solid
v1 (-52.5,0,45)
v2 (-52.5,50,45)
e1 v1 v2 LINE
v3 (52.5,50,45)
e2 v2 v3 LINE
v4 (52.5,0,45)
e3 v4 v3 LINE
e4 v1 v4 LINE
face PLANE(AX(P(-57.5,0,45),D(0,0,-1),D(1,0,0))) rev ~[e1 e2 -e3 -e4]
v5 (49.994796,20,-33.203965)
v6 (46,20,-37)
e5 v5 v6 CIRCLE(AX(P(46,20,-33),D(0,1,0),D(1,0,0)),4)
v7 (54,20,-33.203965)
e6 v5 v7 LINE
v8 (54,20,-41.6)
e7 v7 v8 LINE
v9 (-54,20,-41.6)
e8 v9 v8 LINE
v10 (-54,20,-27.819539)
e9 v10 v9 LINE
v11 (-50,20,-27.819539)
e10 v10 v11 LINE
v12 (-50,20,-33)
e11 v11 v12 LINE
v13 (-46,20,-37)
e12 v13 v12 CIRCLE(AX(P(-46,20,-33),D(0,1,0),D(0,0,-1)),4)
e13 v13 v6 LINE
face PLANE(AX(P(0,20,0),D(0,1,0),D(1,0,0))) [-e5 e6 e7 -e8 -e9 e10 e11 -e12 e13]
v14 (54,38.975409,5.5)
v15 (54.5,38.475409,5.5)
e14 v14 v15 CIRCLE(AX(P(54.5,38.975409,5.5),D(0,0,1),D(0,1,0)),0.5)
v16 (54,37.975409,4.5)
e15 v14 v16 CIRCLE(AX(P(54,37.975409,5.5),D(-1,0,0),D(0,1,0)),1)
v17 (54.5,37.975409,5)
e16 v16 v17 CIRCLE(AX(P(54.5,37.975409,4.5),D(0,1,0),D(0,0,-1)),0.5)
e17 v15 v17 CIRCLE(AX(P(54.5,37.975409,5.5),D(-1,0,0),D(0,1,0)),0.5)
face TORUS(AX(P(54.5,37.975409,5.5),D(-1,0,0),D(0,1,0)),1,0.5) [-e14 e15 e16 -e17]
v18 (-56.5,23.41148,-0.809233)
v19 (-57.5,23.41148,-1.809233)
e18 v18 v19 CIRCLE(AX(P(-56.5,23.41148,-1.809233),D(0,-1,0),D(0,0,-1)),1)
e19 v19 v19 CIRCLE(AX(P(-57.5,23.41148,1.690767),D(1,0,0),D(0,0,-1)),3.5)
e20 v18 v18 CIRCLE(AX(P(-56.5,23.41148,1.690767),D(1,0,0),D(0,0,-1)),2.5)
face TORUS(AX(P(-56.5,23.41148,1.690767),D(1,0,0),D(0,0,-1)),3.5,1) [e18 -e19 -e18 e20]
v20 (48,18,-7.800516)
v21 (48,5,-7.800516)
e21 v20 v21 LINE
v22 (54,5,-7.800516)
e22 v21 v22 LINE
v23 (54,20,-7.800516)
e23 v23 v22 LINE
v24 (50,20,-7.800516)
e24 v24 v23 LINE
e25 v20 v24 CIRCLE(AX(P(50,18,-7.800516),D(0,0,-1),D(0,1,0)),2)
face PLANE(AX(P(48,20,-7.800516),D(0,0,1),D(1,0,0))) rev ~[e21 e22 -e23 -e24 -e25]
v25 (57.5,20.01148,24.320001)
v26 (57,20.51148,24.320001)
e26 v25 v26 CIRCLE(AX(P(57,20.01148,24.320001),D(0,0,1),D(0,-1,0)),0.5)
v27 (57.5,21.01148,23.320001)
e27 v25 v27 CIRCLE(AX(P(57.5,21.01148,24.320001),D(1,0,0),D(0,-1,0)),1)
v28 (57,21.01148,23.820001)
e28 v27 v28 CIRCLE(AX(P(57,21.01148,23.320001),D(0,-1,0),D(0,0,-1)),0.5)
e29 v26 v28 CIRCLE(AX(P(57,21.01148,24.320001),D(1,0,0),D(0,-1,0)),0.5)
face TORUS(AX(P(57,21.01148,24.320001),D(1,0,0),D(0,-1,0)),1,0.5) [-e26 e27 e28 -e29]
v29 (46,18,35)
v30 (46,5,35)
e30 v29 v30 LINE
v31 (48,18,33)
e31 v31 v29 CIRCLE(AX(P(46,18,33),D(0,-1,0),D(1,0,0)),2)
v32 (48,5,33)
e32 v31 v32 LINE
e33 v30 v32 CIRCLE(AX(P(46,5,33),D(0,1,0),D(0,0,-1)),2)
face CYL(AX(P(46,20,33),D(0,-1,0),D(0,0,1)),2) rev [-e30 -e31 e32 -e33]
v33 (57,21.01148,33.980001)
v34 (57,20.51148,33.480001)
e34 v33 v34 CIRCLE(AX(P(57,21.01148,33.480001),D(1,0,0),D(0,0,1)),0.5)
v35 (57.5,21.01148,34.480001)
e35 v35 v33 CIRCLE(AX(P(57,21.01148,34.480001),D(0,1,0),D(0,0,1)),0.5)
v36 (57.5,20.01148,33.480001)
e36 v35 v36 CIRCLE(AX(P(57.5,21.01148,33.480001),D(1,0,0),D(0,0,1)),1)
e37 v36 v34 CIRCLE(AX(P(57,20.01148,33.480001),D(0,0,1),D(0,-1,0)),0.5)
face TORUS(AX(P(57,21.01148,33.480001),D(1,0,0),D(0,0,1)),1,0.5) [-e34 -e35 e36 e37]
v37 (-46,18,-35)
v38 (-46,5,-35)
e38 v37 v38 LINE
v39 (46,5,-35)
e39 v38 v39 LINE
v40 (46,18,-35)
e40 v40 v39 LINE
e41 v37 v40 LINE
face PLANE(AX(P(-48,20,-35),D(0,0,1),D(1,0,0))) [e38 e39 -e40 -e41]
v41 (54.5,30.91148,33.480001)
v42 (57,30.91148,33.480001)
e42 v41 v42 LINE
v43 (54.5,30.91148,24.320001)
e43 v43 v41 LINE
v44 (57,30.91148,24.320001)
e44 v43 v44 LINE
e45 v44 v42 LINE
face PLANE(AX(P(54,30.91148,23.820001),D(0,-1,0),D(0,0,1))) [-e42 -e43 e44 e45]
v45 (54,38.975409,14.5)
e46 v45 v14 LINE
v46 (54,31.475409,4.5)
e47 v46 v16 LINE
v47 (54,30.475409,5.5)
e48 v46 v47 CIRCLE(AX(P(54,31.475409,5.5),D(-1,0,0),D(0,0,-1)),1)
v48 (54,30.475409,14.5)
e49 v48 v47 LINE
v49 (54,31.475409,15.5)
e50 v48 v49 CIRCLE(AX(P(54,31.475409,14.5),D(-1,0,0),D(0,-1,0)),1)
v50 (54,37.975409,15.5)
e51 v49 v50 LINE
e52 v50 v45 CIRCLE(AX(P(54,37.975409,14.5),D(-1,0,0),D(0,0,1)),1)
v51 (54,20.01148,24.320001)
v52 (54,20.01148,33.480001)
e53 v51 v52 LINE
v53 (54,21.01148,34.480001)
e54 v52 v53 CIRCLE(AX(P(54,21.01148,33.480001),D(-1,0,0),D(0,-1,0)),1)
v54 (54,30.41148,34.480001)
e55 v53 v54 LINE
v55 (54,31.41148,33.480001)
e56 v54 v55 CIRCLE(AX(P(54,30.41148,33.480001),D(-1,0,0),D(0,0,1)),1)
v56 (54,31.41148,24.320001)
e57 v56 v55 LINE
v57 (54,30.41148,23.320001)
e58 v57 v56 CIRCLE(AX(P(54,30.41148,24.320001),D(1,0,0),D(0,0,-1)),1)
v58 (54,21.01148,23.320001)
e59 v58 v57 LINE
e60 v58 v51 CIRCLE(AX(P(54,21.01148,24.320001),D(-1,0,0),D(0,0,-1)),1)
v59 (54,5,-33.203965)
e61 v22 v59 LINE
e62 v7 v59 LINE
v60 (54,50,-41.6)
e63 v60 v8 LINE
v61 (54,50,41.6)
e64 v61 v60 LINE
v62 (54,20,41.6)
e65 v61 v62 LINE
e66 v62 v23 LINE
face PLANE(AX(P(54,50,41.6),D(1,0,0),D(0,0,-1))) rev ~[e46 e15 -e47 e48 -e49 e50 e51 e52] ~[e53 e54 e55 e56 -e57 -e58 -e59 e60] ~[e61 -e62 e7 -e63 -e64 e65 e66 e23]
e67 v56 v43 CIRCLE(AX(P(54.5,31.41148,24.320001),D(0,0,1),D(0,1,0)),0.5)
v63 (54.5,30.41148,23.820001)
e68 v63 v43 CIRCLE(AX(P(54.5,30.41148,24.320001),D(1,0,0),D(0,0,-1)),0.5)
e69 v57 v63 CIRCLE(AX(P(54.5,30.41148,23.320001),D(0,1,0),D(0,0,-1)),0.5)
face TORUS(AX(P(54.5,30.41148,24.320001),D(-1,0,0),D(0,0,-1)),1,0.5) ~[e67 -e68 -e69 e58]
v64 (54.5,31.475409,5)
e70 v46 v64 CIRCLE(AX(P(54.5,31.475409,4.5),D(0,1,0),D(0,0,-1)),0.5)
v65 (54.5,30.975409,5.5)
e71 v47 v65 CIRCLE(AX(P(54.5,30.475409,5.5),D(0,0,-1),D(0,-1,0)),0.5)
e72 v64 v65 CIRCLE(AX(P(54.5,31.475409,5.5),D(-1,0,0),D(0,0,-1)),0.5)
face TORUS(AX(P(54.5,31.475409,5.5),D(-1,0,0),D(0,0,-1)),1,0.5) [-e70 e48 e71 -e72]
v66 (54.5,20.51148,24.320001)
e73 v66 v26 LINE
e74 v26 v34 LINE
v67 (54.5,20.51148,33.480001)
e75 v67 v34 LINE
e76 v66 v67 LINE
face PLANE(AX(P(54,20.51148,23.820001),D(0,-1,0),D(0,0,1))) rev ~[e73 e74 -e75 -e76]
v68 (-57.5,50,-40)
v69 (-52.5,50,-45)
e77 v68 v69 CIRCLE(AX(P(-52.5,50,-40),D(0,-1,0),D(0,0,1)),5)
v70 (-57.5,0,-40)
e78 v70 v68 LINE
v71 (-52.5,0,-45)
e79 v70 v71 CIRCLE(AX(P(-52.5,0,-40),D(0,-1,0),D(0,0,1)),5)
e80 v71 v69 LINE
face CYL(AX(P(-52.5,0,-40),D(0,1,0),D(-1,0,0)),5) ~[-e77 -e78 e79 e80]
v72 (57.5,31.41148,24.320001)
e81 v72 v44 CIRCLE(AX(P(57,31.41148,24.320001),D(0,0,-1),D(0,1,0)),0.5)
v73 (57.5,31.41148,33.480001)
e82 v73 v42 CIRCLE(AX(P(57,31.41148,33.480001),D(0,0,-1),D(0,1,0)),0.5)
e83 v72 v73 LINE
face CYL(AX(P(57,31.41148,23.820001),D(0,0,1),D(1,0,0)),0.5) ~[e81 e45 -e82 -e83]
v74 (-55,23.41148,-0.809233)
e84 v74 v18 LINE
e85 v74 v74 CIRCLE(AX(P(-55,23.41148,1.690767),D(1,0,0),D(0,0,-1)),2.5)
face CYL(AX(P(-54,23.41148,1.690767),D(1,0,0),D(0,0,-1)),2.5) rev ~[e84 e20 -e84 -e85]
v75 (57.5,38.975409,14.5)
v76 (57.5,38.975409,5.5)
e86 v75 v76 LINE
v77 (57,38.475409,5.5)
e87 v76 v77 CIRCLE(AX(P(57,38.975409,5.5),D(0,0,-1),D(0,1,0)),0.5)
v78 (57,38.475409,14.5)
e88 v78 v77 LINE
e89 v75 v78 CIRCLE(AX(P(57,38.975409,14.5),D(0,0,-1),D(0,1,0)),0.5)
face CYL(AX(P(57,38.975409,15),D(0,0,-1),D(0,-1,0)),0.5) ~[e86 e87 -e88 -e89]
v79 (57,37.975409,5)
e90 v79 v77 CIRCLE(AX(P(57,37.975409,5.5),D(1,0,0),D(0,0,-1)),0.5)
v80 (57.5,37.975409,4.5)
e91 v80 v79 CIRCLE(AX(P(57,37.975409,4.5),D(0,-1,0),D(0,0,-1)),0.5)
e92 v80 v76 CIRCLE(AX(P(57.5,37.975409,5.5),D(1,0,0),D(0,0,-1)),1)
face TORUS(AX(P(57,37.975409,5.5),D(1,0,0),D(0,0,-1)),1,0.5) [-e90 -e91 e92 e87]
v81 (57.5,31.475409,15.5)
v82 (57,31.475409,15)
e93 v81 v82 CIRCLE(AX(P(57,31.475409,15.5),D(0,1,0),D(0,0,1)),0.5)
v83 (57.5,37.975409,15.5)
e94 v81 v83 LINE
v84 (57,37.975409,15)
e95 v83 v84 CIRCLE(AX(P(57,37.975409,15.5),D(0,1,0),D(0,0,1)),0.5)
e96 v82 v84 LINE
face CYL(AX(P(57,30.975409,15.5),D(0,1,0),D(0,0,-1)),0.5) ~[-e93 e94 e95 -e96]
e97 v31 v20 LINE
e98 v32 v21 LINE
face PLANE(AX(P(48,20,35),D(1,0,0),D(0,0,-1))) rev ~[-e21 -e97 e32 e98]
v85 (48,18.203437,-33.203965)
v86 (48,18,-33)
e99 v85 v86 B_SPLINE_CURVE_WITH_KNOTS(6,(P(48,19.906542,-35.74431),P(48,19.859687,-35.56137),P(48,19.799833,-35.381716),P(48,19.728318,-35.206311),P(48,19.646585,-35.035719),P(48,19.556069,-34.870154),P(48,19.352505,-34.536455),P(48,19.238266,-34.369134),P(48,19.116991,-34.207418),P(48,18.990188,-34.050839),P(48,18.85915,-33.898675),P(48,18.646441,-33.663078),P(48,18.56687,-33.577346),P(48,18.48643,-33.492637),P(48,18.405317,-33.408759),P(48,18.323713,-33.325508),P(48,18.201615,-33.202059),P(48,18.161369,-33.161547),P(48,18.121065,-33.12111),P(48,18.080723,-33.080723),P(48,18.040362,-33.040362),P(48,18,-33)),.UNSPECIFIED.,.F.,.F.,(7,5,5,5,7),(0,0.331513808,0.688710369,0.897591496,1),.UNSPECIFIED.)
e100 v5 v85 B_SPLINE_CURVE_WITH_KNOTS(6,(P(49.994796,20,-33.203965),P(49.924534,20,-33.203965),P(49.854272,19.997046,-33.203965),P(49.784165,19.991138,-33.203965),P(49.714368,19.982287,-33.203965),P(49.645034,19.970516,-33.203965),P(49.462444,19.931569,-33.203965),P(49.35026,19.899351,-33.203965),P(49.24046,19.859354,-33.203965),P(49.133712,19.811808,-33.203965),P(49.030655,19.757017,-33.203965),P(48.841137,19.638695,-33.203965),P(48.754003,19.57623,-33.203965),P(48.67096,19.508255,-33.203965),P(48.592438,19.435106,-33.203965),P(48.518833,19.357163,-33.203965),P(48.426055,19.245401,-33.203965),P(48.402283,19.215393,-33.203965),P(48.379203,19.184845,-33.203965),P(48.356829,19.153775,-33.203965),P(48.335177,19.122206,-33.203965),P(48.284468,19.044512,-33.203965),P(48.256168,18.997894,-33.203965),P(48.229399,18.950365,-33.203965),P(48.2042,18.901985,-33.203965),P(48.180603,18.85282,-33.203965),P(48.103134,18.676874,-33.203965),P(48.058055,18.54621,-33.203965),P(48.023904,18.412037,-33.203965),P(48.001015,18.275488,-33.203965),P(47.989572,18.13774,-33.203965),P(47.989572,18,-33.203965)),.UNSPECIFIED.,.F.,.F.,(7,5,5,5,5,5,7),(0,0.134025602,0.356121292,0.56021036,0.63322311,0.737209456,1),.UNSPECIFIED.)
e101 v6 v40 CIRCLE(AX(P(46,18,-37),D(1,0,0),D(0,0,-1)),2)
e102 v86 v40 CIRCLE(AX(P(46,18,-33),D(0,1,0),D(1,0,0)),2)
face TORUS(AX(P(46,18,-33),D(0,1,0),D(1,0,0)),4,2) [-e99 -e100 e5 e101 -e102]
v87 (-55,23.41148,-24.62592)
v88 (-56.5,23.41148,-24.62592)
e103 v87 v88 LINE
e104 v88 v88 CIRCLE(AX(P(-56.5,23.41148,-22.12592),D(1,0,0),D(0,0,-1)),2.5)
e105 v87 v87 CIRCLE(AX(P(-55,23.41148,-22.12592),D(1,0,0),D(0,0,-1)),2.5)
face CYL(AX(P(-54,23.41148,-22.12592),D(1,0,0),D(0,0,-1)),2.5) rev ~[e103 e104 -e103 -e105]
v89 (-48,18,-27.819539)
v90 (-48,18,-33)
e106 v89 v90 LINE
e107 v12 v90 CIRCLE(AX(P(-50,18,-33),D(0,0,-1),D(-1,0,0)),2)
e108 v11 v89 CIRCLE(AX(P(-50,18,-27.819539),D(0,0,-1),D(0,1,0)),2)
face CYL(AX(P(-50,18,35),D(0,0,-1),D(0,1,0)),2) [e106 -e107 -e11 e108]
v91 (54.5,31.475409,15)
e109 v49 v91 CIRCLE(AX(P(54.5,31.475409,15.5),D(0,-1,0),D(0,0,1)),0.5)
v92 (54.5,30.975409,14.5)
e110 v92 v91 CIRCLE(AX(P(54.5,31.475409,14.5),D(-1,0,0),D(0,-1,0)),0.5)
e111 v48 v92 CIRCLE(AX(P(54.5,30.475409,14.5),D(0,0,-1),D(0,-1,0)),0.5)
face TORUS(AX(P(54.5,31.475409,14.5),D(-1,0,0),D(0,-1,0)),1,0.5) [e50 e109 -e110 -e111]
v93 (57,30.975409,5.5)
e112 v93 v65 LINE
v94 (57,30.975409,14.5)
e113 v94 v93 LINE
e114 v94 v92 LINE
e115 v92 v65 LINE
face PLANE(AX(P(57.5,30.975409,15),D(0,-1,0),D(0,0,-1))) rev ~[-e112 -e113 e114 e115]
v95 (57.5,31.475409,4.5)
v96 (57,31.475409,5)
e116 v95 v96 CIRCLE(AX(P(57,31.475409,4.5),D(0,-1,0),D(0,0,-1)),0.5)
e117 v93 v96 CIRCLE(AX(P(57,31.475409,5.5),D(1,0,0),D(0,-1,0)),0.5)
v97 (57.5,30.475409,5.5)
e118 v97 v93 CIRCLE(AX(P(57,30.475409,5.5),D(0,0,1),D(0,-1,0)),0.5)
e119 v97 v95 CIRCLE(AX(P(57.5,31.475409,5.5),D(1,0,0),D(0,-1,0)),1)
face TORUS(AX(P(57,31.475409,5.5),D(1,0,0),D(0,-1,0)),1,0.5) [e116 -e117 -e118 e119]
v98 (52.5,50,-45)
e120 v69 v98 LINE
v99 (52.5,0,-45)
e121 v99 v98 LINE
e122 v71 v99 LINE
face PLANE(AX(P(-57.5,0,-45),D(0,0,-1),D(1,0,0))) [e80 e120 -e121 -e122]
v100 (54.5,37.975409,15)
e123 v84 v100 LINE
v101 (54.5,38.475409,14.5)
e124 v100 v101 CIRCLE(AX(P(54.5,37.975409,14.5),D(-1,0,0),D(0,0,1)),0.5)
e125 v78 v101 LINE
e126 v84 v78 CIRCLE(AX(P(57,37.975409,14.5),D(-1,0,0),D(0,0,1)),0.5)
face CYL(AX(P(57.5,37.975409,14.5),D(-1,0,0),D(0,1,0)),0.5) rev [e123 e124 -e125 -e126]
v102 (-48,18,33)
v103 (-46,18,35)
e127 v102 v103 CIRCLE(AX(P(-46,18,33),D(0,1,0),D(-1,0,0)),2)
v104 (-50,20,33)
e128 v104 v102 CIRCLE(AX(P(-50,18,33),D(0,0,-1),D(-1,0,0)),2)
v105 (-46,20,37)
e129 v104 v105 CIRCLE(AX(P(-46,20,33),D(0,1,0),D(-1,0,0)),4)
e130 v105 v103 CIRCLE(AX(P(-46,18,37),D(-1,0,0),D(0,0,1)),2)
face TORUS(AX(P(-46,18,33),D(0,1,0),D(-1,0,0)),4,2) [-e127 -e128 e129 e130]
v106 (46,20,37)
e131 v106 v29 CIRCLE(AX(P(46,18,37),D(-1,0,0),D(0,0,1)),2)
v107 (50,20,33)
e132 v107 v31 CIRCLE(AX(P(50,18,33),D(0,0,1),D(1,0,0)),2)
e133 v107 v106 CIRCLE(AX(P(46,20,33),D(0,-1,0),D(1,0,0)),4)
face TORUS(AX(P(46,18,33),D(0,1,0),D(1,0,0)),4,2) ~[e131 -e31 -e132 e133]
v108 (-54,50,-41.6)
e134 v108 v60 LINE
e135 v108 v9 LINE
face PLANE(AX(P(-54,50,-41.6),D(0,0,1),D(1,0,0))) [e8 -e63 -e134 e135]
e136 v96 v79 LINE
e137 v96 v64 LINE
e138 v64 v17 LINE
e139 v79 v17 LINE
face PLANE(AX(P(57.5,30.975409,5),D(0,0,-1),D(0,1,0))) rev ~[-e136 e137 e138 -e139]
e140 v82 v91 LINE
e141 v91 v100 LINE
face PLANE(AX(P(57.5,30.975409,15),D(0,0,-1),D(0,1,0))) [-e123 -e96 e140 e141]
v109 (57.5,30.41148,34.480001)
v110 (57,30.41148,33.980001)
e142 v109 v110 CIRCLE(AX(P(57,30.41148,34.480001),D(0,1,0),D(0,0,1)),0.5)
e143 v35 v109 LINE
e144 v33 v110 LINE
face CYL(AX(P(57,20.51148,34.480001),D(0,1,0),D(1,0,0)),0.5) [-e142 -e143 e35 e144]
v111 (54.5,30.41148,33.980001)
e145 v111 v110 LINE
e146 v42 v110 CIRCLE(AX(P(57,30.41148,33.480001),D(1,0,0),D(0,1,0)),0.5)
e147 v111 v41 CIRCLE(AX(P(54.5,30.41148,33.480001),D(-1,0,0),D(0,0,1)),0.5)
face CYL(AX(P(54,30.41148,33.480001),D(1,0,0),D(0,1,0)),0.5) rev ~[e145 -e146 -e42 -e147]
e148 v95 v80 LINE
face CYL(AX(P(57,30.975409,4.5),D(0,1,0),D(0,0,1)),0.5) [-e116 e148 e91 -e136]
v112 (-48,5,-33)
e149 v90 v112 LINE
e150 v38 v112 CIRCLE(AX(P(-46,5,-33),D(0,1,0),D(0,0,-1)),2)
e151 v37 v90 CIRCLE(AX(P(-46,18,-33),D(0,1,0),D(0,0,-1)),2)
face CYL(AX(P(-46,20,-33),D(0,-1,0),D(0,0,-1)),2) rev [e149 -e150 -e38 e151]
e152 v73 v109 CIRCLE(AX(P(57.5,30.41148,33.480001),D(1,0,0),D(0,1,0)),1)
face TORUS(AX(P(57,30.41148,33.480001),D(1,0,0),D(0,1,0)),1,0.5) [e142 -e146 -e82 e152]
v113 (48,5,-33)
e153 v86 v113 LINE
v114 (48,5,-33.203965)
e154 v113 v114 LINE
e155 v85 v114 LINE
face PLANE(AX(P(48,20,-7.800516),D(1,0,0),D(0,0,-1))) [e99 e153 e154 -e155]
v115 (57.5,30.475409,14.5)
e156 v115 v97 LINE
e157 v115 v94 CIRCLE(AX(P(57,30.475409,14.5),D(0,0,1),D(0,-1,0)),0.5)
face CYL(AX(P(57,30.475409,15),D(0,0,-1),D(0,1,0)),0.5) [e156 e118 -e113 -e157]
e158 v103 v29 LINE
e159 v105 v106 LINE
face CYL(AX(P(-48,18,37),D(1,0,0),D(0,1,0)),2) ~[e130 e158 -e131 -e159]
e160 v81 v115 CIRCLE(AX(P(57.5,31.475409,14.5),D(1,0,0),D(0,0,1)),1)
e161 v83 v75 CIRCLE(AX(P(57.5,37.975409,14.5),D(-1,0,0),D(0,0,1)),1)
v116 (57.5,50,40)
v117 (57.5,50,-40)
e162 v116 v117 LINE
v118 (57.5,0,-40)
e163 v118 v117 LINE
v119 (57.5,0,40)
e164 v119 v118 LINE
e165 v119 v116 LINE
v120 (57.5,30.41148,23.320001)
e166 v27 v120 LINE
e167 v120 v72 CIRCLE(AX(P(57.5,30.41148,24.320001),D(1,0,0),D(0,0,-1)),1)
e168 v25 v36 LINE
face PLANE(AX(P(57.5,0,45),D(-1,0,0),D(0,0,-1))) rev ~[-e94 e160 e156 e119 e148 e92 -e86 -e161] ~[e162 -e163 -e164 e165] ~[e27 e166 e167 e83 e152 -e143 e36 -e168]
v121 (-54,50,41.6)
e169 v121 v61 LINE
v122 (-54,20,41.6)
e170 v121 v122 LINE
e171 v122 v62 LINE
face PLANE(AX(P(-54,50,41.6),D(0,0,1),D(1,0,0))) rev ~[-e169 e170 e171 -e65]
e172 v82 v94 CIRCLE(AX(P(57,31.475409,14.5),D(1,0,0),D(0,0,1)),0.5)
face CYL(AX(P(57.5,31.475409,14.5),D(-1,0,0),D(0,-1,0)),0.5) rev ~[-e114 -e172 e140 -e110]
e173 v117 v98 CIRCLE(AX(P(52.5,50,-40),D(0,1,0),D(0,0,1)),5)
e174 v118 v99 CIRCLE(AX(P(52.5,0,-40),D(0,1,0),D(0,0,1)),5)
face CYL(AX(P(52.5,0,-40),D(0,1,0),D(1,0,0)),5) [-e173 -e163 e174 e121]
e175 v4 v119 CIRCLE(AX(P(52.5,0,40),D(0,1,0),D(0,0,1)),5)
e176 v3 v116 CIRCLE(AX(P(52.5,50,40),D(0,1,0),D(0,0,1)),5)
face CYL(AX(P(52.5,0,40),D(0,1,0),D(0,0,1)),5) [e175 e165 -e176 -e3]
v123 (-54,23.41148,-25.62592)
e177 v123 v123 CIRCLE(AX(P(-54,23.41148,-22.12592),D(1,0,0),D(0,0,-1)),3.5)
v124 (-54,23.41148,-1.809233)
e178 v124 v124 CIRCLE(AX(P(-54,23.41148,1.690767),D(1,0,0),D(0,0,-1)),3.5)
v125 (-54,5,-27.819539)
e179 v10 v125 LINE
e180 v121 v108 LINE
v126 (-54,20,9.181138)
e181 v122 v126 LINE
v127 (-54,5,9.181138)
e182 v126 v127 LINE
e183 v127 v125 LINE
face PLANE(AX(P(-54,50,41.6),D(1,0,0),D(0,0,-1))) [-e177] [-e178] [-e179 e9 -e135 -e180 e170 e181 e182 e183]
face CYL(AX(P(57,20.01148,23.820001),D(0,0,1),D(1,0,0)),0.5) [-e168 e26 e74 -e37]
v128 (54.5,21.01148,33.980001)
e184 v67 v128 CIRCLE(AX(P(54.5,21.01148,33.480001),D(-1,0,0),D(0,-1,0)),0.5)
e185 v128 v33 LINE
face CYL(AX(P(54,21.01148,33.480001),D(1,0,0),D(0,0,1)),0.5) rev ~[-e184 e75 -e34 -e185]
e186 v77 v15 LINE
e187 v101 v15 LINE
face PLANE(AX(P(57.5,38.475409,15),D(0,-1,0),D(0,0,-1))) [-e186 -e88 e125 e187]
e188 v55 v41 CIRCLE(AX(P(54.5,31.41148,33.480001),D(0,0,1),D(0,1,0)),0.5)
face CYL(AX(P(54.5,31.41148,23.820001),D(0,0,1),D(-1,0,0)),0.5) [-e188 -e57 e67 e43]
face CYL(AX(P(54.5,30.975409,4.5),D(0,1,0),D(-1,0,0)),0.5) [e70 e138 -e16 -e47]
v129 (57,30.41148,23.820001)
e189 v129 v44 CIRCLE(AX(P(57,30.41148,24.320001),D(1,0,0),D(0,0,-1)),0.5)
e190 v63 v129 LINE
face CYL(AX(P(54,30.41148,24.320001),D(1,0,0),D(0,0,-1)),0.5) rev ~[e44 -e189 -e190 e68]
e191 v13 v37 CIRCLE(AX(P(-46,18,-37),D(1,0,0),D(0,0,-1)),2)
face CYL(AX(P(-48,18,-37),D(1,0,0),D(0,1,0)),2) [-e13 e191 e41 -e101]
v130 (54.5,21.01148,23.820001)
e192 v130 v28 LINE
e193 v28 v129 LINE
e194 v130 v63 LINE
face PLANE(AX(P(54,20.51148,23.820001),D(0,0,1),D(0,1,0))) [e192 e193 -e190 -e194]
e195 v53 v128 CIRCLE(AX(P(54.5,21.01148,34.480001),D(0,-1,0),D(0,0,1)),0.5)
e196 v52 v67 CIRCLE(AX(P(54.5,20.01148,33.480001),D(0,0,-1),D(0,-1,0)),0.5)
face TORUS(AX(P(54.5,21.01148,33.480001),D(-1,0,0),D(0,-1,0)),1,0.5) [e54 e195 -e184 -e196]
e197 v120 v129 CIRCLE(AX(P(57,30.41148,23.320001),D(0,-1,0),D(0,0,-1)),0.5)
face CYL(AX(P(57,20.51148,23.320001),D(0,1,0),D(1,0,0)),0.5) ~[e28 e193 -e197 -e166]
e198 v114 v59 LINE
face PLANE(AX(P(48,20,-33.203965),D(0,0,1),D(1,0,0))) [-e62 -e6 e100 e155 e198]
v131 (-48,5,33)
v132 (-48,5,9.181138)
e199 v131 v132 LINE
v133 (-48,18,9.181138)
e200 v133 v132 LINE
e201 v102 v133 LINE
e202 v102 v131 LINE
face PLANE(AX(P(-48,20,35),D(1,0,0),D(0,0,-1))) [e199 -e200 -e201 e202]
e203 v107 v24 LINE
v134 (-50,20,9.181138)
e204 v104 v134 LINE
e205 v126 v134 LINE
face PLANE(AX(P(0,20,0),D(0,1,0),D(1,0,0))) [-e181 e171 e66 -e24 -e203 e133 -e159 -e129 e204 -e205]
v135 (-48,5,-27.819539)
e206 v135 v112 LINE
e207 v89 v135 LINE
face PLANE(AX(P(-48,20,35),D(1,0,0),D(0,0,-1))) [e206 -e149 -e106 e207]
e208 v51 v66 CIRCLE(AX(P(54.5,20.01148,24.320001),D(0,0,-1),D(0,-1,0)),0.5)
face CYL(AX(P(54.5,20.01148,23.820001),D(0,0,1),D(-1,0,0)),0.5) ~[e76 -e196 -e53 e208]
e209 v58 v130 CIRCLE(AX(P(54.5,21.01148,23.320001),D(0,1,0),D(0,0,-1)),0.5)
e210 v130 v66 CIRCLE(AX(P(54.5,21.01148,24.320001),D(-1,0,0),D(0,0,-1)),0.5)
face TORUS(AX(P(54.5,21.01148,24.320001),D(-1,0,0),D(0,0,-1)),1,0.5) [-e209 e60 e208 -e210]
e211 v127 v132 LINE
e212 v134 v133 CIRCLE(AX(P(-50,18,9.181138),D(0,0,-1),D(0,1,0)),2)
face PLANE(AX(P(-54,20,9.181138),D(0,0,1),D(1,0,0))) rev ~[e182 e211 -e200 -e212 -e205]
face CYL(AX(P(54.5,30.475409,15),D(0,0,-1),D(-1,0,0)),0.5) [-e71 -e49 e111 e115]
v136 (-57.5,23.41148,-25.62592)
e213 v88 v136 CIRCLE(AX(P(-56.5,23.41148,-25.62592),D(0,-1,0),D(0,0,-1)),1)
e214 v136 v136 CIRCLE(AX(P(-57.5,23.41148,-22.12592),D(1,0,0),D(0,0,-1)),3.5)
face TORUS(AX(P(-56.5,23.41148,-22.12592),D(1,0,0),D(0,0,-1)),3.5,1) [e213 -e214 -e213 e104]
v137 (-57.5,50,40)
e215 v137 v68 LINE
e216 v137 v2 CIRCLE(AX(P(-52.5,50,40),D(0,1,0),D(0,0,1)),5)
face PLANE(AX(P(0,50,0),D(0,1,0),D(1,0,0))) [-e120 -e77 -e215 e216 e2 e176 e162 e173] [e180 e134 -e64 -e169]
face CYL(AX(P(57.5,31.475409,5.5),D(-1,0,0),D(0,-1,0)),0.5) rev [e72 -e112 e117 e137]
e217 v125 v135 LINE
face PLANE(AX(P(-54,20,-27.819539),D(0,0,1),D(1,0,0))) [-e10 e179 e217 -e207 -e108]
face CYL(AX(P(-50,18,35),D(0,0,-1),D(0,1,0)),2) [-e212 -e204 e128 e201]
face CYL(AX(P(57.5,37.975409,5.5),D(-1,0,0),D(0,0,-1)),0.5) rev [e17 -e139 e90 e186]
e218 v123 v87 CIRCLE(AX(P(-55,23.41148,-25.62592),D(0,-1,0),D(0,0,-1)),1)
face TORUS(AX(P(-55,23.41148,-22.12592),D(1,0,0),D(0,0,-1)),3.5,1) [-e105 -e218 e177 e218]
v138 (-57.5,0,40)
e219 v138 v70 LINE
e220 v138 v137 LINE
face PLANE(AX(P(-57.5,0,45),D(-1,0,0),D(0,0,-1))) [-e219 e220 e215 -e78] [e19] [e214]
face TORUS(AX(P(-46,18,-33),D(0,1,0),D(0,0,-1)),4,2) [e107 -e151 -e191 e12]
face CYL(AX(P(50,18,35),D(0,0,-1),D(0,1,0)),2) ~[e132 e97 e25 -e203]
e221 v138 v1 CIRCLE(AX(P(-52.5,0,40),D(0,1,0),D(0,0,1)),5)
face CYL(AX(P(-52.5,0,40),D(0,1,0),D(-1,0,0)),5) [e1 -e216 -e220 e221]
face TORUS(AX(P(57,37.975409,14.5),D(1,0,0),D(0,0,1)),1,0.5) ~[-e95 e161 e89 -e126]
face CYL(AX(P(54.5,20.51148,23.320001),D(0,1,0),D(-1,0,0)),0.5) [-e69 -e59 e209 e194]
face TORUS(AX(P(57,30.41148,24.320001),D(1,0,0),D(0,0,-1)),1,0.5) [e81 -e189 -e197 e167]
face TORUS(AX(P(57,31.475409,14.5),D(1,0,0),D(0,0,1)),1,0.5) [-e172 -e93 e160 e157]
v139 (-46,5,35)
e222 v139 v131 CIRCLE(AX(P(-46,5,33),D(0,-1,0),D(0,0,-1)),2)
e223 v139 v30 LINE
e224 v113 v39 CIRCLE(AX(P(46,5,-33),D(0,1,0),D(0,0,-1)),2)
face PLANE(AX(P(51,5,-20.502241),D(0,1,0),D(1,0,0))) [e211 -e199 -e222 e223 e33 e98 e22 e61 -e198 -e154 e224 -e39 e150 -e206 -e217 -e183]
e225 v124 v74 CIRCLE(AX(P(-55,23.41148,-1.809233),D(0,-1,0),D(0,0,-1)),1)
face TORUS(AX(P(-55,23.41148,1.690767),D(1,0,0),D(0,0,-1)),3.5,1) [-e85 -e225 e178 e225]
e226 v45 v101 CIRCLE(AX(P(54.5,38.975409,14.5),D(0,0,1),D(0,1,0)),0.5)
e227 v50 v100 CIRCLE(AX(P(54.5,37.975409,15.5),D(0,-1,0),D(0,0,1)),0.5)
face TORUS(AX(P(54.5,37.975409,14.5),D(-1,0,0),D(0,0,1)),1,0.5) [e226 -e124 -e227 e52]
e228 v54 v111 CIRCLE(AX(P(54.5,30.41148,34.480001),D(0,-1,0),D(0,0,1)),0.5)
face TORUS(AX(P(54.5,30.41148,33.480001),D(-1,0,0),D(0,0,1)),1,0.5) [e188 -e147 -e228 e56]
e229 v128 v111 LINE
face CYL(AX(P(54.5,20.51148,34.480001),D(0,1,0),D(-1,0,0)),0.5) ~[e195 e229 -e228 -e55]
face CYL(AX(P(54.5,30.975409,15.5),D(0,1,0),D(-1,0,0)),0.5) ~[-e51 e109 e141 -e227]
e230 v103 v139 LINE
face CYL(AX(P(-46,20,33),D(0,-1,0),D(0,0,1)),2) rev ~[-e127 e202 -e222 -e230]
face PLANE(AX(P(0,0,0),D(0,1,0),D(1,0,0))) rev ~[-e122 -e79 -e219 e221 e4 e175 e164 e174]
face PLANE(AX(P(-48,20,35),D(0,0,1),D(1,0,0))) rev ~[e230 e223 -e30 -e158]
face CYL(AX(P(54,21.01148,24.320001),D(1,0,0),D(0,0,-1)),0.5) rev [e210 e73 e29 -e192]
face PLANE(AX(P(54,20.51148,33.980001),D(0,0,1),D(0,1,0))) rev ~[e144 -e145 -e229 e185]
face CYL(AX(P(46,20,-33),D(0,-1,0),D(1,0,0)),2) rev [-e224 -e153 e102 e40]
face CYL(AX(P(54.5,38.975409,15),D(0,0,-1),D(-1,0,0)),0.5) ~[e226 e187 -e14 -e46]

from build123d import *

# Parameters (mm, degrees)
SKETCH2_W           = 115
SKETCH2_H           = 90
BOSS_EXTRUDE1_DEPTH = 50
FILLET1_R           = 5
SKETCH3_W           = 108
SKETCH3_H           = 83.2
CUT_EXTRUDE1_DEPTH  = 30
SKETCH4_W           = 96
SKETCH4_H           = 70
CUT_EXTRUDE2_DEPTH  = 15
FILLET2_R           = 2
SKETCH5_W           = 6
SKETCH5_H           = 37.000676584
CUT_EXTRUDE3_DEPTH  = 15
SKETCH7_W           = 6
SKETCH7_H           = 25.403449595
CUT_EXTRUDE5_DEPTH  = 15
SKETCH8_R           = 2.5
CUT_EXTRUDE6_DEPTH  = 10
FILLET3_R           = 1
SKETCH9_W           = 10.16
SKETCH9_H           = 10.4
CUT_EXTRUDE7_DEPTH  = 10
FILLET9_R           = 0.5
SKETCH10_W          = 10
SKETCH10_H          = 7.5
CUT_EXTRUDE8_DEPTH  = 10
FILLET10_R          = 0.5


with BuildPart() as part:
    # Sketch2 → Boss-Extrude1 (new body)
    with BuildSketch(Plane(origin=(0, 0, 0), x_dir=(1, 0, 0), z_dir=(0, 1, 0))):
        Rectangle(SKETCH2_W, SKETCH2_H)
    extrude(amount=BOSS_EXTRUDE1_DEPTH)

    # Fillet1
    fillet1_edges = [part.edges().sort_by_distance(p)[0] for p in [
        (57.5, 25, 45),
        (-57.5, 25, 45),
        (-57.5, 25, -45),
        (57.5, 25, -45),
    ]]
    fillet(fillet1_edges, radius=FILLET1_R)

    # Sketch3 → Cut-Extrude1 (cut)
    with BuildSketch(Plane(origin=(0, 50, 0), x_dir=(1, 0, 0), z_dir=(0, 1, 0))):
        Rectangle(SKETCH3_W, SKETCH3_H)
    extrude(amount=-CUT_EXTRUDE1_DEPTH, mode=Mode.SUBTRACT)

    # Sketch4 → Cut-Extrude2 (cut)
    with BuildSketch(Plane(origin=(0, 20, 0), x_dir=(1, 0, 0), z_dir=(0, 1, 0))):
        Rectangle(SKETCH4_W, SKETCH4_H)
    extrude(amount=-CUT_EXTRUDE2_DEPTH, mode=Mode.SUBTRACT)

    # Fillet2
    fillet2_edges = [part.edges().sort_by_distance(p)[0] for p in [
        (48, 12.5, -35),
        (48, 12.5, 35),
        (-48, 12.5, 35),
        (-48, 12.5, -35),
        (48, 20, 0),
        (0, 20, -35),
        (-48, 20, 0),
        (0, 20, 35),
    ]]
    fillet(fillet2_edges, radius=FILLET2_R)

    # Sketch5 → Cut-Extrude3 (cut)
    with BuildSketch(Plane(origin=(0, 20, 0), x_dir=(1, 0, 0), z_dir=(0, 1, 0))):
        with Locations((-51, 9.319200259)):
            Rectangle(SKETCH5_W, SKETCH5_H)
    extrude(amount=-CUT_EXTRUDE3_DEPTH, mode=Mode.SUBTRACT)

    # Sketch7 → Cut-Extrude5 (cut)
    with BuildSketch(Plane(origin=(0, 20, 0), x_dir=(1, 0, 0), z_dir=(0, 1, 0))):
        with Locations((51, 20.50224057)):
            Rectangle(SKETCH7_W, SKETCH7_H)
    extrude(amount=-CUT_EXTRUDE5_DEPTH, mode=Mode.SUBTRACT)

    # Sketch8 → Cut-Extrude6 (cut)
    with BuildSketch(Plane(origin=(-54, 0, 0), x_dir=(0, 0, -1), z_dir=(1, 0, 0))):
        with Locations((22.12592041, 23.41148)):
            Circle(SKETCH8_R)
        with Locations((-1.690767369, 23.41148)):
            Circle(SKETCH8_R)
    extrude(amount=-CUT_EXTRUDE6_DEPTH, mode=Mode.SUBTRACT)

    # Fillet3
    fillet3_edges = [part.edges().sort_by_distance(p)[0] for p in [
        (-57.5, 23.41148, -19.62592041),
        (-54, 23.41148, -19.62592041),
        (-57.5, 23.41148, 4.190767369),
        (-54, 23.41148, 4.190767369),
    ]]
    fillet(fillet3_edges, radius=FILLET3_R)

    # Sketch9 → Cut-Extrude7 (cut)
    with BuildSketch(Plane.ZY.offset(-54)):
        with Locations((28.900001247, 25.71148)):
            Rectangle(SKETCH9_W, SKETCH9_H)
    extrude(amount=-CUT_EXTRUDE7_DEPTH, mode=Mode.SUBTRACT)

    # Fillet9
    fillet9_edges = [part.edges().sort_by_distance(p)[0] for p in [
        (57.5, 25.71148, 23.820001247),
        (55.75, 20.51148, 23.820001247),
        (57.5, 30.91148, 28.900001247),
        (55.75, 30.91148, 23.820001247),
        (57.5, 25.71148, 33.980001247),
        (55.75, 30.91148, 33.980001247),
        (57.5, 20.51148, 28.900001247),
        (55.75, 20.51148, 33.980001247),
        (54, 25.71148, 23.820001247),
        (54, 20.51148, 28.900001247),
        (54, 25.71148, 33.980001247),
        (54, 30.91148, 28.900001247),
    ]]
    fillet(fillet9_edges, radius=FILLET9_R)

    # Sketch10 → Cut-Extrude8 (cut)
    with BuildSketch(Plane(origin=(57.5, 0, 0), x_dir=(0, 0, -1), z_dir=(1, 0, 0))):
        with Locations((-10, 34.725408503)):
            Rectangle(SKETCH10_W, SKETCH10_H)
    extrude(amount=-CUT_EXTRUDE8_DEPTH, mode=Mode.SUBTRACT)

    # Fillet10
    fillet10_edges = [part.edges().sort_by_distance(p)[0] for p in [
        (54, 34.725408503, 15),
        (55.75, 30.975408503, 15),
        (54, 38.475408503, 10),
        (55.75, 38.475408503, 15),
        (54, 34.725408503, 5),
        (55.75, 38.475408503, 5),
        (54, 30.975408503, 10),
        (55.75, 30.975408503, 5),
        (57.5, 34.725408503, 15),
        (57.5, 30.975408503, 10),
        (57.5, 34.725408503, 5),
        (57.5, 38.475408503, 10),
    ]]
    fillet(fillet10_edges, radius=FILLET10_R)


solid = part.part
